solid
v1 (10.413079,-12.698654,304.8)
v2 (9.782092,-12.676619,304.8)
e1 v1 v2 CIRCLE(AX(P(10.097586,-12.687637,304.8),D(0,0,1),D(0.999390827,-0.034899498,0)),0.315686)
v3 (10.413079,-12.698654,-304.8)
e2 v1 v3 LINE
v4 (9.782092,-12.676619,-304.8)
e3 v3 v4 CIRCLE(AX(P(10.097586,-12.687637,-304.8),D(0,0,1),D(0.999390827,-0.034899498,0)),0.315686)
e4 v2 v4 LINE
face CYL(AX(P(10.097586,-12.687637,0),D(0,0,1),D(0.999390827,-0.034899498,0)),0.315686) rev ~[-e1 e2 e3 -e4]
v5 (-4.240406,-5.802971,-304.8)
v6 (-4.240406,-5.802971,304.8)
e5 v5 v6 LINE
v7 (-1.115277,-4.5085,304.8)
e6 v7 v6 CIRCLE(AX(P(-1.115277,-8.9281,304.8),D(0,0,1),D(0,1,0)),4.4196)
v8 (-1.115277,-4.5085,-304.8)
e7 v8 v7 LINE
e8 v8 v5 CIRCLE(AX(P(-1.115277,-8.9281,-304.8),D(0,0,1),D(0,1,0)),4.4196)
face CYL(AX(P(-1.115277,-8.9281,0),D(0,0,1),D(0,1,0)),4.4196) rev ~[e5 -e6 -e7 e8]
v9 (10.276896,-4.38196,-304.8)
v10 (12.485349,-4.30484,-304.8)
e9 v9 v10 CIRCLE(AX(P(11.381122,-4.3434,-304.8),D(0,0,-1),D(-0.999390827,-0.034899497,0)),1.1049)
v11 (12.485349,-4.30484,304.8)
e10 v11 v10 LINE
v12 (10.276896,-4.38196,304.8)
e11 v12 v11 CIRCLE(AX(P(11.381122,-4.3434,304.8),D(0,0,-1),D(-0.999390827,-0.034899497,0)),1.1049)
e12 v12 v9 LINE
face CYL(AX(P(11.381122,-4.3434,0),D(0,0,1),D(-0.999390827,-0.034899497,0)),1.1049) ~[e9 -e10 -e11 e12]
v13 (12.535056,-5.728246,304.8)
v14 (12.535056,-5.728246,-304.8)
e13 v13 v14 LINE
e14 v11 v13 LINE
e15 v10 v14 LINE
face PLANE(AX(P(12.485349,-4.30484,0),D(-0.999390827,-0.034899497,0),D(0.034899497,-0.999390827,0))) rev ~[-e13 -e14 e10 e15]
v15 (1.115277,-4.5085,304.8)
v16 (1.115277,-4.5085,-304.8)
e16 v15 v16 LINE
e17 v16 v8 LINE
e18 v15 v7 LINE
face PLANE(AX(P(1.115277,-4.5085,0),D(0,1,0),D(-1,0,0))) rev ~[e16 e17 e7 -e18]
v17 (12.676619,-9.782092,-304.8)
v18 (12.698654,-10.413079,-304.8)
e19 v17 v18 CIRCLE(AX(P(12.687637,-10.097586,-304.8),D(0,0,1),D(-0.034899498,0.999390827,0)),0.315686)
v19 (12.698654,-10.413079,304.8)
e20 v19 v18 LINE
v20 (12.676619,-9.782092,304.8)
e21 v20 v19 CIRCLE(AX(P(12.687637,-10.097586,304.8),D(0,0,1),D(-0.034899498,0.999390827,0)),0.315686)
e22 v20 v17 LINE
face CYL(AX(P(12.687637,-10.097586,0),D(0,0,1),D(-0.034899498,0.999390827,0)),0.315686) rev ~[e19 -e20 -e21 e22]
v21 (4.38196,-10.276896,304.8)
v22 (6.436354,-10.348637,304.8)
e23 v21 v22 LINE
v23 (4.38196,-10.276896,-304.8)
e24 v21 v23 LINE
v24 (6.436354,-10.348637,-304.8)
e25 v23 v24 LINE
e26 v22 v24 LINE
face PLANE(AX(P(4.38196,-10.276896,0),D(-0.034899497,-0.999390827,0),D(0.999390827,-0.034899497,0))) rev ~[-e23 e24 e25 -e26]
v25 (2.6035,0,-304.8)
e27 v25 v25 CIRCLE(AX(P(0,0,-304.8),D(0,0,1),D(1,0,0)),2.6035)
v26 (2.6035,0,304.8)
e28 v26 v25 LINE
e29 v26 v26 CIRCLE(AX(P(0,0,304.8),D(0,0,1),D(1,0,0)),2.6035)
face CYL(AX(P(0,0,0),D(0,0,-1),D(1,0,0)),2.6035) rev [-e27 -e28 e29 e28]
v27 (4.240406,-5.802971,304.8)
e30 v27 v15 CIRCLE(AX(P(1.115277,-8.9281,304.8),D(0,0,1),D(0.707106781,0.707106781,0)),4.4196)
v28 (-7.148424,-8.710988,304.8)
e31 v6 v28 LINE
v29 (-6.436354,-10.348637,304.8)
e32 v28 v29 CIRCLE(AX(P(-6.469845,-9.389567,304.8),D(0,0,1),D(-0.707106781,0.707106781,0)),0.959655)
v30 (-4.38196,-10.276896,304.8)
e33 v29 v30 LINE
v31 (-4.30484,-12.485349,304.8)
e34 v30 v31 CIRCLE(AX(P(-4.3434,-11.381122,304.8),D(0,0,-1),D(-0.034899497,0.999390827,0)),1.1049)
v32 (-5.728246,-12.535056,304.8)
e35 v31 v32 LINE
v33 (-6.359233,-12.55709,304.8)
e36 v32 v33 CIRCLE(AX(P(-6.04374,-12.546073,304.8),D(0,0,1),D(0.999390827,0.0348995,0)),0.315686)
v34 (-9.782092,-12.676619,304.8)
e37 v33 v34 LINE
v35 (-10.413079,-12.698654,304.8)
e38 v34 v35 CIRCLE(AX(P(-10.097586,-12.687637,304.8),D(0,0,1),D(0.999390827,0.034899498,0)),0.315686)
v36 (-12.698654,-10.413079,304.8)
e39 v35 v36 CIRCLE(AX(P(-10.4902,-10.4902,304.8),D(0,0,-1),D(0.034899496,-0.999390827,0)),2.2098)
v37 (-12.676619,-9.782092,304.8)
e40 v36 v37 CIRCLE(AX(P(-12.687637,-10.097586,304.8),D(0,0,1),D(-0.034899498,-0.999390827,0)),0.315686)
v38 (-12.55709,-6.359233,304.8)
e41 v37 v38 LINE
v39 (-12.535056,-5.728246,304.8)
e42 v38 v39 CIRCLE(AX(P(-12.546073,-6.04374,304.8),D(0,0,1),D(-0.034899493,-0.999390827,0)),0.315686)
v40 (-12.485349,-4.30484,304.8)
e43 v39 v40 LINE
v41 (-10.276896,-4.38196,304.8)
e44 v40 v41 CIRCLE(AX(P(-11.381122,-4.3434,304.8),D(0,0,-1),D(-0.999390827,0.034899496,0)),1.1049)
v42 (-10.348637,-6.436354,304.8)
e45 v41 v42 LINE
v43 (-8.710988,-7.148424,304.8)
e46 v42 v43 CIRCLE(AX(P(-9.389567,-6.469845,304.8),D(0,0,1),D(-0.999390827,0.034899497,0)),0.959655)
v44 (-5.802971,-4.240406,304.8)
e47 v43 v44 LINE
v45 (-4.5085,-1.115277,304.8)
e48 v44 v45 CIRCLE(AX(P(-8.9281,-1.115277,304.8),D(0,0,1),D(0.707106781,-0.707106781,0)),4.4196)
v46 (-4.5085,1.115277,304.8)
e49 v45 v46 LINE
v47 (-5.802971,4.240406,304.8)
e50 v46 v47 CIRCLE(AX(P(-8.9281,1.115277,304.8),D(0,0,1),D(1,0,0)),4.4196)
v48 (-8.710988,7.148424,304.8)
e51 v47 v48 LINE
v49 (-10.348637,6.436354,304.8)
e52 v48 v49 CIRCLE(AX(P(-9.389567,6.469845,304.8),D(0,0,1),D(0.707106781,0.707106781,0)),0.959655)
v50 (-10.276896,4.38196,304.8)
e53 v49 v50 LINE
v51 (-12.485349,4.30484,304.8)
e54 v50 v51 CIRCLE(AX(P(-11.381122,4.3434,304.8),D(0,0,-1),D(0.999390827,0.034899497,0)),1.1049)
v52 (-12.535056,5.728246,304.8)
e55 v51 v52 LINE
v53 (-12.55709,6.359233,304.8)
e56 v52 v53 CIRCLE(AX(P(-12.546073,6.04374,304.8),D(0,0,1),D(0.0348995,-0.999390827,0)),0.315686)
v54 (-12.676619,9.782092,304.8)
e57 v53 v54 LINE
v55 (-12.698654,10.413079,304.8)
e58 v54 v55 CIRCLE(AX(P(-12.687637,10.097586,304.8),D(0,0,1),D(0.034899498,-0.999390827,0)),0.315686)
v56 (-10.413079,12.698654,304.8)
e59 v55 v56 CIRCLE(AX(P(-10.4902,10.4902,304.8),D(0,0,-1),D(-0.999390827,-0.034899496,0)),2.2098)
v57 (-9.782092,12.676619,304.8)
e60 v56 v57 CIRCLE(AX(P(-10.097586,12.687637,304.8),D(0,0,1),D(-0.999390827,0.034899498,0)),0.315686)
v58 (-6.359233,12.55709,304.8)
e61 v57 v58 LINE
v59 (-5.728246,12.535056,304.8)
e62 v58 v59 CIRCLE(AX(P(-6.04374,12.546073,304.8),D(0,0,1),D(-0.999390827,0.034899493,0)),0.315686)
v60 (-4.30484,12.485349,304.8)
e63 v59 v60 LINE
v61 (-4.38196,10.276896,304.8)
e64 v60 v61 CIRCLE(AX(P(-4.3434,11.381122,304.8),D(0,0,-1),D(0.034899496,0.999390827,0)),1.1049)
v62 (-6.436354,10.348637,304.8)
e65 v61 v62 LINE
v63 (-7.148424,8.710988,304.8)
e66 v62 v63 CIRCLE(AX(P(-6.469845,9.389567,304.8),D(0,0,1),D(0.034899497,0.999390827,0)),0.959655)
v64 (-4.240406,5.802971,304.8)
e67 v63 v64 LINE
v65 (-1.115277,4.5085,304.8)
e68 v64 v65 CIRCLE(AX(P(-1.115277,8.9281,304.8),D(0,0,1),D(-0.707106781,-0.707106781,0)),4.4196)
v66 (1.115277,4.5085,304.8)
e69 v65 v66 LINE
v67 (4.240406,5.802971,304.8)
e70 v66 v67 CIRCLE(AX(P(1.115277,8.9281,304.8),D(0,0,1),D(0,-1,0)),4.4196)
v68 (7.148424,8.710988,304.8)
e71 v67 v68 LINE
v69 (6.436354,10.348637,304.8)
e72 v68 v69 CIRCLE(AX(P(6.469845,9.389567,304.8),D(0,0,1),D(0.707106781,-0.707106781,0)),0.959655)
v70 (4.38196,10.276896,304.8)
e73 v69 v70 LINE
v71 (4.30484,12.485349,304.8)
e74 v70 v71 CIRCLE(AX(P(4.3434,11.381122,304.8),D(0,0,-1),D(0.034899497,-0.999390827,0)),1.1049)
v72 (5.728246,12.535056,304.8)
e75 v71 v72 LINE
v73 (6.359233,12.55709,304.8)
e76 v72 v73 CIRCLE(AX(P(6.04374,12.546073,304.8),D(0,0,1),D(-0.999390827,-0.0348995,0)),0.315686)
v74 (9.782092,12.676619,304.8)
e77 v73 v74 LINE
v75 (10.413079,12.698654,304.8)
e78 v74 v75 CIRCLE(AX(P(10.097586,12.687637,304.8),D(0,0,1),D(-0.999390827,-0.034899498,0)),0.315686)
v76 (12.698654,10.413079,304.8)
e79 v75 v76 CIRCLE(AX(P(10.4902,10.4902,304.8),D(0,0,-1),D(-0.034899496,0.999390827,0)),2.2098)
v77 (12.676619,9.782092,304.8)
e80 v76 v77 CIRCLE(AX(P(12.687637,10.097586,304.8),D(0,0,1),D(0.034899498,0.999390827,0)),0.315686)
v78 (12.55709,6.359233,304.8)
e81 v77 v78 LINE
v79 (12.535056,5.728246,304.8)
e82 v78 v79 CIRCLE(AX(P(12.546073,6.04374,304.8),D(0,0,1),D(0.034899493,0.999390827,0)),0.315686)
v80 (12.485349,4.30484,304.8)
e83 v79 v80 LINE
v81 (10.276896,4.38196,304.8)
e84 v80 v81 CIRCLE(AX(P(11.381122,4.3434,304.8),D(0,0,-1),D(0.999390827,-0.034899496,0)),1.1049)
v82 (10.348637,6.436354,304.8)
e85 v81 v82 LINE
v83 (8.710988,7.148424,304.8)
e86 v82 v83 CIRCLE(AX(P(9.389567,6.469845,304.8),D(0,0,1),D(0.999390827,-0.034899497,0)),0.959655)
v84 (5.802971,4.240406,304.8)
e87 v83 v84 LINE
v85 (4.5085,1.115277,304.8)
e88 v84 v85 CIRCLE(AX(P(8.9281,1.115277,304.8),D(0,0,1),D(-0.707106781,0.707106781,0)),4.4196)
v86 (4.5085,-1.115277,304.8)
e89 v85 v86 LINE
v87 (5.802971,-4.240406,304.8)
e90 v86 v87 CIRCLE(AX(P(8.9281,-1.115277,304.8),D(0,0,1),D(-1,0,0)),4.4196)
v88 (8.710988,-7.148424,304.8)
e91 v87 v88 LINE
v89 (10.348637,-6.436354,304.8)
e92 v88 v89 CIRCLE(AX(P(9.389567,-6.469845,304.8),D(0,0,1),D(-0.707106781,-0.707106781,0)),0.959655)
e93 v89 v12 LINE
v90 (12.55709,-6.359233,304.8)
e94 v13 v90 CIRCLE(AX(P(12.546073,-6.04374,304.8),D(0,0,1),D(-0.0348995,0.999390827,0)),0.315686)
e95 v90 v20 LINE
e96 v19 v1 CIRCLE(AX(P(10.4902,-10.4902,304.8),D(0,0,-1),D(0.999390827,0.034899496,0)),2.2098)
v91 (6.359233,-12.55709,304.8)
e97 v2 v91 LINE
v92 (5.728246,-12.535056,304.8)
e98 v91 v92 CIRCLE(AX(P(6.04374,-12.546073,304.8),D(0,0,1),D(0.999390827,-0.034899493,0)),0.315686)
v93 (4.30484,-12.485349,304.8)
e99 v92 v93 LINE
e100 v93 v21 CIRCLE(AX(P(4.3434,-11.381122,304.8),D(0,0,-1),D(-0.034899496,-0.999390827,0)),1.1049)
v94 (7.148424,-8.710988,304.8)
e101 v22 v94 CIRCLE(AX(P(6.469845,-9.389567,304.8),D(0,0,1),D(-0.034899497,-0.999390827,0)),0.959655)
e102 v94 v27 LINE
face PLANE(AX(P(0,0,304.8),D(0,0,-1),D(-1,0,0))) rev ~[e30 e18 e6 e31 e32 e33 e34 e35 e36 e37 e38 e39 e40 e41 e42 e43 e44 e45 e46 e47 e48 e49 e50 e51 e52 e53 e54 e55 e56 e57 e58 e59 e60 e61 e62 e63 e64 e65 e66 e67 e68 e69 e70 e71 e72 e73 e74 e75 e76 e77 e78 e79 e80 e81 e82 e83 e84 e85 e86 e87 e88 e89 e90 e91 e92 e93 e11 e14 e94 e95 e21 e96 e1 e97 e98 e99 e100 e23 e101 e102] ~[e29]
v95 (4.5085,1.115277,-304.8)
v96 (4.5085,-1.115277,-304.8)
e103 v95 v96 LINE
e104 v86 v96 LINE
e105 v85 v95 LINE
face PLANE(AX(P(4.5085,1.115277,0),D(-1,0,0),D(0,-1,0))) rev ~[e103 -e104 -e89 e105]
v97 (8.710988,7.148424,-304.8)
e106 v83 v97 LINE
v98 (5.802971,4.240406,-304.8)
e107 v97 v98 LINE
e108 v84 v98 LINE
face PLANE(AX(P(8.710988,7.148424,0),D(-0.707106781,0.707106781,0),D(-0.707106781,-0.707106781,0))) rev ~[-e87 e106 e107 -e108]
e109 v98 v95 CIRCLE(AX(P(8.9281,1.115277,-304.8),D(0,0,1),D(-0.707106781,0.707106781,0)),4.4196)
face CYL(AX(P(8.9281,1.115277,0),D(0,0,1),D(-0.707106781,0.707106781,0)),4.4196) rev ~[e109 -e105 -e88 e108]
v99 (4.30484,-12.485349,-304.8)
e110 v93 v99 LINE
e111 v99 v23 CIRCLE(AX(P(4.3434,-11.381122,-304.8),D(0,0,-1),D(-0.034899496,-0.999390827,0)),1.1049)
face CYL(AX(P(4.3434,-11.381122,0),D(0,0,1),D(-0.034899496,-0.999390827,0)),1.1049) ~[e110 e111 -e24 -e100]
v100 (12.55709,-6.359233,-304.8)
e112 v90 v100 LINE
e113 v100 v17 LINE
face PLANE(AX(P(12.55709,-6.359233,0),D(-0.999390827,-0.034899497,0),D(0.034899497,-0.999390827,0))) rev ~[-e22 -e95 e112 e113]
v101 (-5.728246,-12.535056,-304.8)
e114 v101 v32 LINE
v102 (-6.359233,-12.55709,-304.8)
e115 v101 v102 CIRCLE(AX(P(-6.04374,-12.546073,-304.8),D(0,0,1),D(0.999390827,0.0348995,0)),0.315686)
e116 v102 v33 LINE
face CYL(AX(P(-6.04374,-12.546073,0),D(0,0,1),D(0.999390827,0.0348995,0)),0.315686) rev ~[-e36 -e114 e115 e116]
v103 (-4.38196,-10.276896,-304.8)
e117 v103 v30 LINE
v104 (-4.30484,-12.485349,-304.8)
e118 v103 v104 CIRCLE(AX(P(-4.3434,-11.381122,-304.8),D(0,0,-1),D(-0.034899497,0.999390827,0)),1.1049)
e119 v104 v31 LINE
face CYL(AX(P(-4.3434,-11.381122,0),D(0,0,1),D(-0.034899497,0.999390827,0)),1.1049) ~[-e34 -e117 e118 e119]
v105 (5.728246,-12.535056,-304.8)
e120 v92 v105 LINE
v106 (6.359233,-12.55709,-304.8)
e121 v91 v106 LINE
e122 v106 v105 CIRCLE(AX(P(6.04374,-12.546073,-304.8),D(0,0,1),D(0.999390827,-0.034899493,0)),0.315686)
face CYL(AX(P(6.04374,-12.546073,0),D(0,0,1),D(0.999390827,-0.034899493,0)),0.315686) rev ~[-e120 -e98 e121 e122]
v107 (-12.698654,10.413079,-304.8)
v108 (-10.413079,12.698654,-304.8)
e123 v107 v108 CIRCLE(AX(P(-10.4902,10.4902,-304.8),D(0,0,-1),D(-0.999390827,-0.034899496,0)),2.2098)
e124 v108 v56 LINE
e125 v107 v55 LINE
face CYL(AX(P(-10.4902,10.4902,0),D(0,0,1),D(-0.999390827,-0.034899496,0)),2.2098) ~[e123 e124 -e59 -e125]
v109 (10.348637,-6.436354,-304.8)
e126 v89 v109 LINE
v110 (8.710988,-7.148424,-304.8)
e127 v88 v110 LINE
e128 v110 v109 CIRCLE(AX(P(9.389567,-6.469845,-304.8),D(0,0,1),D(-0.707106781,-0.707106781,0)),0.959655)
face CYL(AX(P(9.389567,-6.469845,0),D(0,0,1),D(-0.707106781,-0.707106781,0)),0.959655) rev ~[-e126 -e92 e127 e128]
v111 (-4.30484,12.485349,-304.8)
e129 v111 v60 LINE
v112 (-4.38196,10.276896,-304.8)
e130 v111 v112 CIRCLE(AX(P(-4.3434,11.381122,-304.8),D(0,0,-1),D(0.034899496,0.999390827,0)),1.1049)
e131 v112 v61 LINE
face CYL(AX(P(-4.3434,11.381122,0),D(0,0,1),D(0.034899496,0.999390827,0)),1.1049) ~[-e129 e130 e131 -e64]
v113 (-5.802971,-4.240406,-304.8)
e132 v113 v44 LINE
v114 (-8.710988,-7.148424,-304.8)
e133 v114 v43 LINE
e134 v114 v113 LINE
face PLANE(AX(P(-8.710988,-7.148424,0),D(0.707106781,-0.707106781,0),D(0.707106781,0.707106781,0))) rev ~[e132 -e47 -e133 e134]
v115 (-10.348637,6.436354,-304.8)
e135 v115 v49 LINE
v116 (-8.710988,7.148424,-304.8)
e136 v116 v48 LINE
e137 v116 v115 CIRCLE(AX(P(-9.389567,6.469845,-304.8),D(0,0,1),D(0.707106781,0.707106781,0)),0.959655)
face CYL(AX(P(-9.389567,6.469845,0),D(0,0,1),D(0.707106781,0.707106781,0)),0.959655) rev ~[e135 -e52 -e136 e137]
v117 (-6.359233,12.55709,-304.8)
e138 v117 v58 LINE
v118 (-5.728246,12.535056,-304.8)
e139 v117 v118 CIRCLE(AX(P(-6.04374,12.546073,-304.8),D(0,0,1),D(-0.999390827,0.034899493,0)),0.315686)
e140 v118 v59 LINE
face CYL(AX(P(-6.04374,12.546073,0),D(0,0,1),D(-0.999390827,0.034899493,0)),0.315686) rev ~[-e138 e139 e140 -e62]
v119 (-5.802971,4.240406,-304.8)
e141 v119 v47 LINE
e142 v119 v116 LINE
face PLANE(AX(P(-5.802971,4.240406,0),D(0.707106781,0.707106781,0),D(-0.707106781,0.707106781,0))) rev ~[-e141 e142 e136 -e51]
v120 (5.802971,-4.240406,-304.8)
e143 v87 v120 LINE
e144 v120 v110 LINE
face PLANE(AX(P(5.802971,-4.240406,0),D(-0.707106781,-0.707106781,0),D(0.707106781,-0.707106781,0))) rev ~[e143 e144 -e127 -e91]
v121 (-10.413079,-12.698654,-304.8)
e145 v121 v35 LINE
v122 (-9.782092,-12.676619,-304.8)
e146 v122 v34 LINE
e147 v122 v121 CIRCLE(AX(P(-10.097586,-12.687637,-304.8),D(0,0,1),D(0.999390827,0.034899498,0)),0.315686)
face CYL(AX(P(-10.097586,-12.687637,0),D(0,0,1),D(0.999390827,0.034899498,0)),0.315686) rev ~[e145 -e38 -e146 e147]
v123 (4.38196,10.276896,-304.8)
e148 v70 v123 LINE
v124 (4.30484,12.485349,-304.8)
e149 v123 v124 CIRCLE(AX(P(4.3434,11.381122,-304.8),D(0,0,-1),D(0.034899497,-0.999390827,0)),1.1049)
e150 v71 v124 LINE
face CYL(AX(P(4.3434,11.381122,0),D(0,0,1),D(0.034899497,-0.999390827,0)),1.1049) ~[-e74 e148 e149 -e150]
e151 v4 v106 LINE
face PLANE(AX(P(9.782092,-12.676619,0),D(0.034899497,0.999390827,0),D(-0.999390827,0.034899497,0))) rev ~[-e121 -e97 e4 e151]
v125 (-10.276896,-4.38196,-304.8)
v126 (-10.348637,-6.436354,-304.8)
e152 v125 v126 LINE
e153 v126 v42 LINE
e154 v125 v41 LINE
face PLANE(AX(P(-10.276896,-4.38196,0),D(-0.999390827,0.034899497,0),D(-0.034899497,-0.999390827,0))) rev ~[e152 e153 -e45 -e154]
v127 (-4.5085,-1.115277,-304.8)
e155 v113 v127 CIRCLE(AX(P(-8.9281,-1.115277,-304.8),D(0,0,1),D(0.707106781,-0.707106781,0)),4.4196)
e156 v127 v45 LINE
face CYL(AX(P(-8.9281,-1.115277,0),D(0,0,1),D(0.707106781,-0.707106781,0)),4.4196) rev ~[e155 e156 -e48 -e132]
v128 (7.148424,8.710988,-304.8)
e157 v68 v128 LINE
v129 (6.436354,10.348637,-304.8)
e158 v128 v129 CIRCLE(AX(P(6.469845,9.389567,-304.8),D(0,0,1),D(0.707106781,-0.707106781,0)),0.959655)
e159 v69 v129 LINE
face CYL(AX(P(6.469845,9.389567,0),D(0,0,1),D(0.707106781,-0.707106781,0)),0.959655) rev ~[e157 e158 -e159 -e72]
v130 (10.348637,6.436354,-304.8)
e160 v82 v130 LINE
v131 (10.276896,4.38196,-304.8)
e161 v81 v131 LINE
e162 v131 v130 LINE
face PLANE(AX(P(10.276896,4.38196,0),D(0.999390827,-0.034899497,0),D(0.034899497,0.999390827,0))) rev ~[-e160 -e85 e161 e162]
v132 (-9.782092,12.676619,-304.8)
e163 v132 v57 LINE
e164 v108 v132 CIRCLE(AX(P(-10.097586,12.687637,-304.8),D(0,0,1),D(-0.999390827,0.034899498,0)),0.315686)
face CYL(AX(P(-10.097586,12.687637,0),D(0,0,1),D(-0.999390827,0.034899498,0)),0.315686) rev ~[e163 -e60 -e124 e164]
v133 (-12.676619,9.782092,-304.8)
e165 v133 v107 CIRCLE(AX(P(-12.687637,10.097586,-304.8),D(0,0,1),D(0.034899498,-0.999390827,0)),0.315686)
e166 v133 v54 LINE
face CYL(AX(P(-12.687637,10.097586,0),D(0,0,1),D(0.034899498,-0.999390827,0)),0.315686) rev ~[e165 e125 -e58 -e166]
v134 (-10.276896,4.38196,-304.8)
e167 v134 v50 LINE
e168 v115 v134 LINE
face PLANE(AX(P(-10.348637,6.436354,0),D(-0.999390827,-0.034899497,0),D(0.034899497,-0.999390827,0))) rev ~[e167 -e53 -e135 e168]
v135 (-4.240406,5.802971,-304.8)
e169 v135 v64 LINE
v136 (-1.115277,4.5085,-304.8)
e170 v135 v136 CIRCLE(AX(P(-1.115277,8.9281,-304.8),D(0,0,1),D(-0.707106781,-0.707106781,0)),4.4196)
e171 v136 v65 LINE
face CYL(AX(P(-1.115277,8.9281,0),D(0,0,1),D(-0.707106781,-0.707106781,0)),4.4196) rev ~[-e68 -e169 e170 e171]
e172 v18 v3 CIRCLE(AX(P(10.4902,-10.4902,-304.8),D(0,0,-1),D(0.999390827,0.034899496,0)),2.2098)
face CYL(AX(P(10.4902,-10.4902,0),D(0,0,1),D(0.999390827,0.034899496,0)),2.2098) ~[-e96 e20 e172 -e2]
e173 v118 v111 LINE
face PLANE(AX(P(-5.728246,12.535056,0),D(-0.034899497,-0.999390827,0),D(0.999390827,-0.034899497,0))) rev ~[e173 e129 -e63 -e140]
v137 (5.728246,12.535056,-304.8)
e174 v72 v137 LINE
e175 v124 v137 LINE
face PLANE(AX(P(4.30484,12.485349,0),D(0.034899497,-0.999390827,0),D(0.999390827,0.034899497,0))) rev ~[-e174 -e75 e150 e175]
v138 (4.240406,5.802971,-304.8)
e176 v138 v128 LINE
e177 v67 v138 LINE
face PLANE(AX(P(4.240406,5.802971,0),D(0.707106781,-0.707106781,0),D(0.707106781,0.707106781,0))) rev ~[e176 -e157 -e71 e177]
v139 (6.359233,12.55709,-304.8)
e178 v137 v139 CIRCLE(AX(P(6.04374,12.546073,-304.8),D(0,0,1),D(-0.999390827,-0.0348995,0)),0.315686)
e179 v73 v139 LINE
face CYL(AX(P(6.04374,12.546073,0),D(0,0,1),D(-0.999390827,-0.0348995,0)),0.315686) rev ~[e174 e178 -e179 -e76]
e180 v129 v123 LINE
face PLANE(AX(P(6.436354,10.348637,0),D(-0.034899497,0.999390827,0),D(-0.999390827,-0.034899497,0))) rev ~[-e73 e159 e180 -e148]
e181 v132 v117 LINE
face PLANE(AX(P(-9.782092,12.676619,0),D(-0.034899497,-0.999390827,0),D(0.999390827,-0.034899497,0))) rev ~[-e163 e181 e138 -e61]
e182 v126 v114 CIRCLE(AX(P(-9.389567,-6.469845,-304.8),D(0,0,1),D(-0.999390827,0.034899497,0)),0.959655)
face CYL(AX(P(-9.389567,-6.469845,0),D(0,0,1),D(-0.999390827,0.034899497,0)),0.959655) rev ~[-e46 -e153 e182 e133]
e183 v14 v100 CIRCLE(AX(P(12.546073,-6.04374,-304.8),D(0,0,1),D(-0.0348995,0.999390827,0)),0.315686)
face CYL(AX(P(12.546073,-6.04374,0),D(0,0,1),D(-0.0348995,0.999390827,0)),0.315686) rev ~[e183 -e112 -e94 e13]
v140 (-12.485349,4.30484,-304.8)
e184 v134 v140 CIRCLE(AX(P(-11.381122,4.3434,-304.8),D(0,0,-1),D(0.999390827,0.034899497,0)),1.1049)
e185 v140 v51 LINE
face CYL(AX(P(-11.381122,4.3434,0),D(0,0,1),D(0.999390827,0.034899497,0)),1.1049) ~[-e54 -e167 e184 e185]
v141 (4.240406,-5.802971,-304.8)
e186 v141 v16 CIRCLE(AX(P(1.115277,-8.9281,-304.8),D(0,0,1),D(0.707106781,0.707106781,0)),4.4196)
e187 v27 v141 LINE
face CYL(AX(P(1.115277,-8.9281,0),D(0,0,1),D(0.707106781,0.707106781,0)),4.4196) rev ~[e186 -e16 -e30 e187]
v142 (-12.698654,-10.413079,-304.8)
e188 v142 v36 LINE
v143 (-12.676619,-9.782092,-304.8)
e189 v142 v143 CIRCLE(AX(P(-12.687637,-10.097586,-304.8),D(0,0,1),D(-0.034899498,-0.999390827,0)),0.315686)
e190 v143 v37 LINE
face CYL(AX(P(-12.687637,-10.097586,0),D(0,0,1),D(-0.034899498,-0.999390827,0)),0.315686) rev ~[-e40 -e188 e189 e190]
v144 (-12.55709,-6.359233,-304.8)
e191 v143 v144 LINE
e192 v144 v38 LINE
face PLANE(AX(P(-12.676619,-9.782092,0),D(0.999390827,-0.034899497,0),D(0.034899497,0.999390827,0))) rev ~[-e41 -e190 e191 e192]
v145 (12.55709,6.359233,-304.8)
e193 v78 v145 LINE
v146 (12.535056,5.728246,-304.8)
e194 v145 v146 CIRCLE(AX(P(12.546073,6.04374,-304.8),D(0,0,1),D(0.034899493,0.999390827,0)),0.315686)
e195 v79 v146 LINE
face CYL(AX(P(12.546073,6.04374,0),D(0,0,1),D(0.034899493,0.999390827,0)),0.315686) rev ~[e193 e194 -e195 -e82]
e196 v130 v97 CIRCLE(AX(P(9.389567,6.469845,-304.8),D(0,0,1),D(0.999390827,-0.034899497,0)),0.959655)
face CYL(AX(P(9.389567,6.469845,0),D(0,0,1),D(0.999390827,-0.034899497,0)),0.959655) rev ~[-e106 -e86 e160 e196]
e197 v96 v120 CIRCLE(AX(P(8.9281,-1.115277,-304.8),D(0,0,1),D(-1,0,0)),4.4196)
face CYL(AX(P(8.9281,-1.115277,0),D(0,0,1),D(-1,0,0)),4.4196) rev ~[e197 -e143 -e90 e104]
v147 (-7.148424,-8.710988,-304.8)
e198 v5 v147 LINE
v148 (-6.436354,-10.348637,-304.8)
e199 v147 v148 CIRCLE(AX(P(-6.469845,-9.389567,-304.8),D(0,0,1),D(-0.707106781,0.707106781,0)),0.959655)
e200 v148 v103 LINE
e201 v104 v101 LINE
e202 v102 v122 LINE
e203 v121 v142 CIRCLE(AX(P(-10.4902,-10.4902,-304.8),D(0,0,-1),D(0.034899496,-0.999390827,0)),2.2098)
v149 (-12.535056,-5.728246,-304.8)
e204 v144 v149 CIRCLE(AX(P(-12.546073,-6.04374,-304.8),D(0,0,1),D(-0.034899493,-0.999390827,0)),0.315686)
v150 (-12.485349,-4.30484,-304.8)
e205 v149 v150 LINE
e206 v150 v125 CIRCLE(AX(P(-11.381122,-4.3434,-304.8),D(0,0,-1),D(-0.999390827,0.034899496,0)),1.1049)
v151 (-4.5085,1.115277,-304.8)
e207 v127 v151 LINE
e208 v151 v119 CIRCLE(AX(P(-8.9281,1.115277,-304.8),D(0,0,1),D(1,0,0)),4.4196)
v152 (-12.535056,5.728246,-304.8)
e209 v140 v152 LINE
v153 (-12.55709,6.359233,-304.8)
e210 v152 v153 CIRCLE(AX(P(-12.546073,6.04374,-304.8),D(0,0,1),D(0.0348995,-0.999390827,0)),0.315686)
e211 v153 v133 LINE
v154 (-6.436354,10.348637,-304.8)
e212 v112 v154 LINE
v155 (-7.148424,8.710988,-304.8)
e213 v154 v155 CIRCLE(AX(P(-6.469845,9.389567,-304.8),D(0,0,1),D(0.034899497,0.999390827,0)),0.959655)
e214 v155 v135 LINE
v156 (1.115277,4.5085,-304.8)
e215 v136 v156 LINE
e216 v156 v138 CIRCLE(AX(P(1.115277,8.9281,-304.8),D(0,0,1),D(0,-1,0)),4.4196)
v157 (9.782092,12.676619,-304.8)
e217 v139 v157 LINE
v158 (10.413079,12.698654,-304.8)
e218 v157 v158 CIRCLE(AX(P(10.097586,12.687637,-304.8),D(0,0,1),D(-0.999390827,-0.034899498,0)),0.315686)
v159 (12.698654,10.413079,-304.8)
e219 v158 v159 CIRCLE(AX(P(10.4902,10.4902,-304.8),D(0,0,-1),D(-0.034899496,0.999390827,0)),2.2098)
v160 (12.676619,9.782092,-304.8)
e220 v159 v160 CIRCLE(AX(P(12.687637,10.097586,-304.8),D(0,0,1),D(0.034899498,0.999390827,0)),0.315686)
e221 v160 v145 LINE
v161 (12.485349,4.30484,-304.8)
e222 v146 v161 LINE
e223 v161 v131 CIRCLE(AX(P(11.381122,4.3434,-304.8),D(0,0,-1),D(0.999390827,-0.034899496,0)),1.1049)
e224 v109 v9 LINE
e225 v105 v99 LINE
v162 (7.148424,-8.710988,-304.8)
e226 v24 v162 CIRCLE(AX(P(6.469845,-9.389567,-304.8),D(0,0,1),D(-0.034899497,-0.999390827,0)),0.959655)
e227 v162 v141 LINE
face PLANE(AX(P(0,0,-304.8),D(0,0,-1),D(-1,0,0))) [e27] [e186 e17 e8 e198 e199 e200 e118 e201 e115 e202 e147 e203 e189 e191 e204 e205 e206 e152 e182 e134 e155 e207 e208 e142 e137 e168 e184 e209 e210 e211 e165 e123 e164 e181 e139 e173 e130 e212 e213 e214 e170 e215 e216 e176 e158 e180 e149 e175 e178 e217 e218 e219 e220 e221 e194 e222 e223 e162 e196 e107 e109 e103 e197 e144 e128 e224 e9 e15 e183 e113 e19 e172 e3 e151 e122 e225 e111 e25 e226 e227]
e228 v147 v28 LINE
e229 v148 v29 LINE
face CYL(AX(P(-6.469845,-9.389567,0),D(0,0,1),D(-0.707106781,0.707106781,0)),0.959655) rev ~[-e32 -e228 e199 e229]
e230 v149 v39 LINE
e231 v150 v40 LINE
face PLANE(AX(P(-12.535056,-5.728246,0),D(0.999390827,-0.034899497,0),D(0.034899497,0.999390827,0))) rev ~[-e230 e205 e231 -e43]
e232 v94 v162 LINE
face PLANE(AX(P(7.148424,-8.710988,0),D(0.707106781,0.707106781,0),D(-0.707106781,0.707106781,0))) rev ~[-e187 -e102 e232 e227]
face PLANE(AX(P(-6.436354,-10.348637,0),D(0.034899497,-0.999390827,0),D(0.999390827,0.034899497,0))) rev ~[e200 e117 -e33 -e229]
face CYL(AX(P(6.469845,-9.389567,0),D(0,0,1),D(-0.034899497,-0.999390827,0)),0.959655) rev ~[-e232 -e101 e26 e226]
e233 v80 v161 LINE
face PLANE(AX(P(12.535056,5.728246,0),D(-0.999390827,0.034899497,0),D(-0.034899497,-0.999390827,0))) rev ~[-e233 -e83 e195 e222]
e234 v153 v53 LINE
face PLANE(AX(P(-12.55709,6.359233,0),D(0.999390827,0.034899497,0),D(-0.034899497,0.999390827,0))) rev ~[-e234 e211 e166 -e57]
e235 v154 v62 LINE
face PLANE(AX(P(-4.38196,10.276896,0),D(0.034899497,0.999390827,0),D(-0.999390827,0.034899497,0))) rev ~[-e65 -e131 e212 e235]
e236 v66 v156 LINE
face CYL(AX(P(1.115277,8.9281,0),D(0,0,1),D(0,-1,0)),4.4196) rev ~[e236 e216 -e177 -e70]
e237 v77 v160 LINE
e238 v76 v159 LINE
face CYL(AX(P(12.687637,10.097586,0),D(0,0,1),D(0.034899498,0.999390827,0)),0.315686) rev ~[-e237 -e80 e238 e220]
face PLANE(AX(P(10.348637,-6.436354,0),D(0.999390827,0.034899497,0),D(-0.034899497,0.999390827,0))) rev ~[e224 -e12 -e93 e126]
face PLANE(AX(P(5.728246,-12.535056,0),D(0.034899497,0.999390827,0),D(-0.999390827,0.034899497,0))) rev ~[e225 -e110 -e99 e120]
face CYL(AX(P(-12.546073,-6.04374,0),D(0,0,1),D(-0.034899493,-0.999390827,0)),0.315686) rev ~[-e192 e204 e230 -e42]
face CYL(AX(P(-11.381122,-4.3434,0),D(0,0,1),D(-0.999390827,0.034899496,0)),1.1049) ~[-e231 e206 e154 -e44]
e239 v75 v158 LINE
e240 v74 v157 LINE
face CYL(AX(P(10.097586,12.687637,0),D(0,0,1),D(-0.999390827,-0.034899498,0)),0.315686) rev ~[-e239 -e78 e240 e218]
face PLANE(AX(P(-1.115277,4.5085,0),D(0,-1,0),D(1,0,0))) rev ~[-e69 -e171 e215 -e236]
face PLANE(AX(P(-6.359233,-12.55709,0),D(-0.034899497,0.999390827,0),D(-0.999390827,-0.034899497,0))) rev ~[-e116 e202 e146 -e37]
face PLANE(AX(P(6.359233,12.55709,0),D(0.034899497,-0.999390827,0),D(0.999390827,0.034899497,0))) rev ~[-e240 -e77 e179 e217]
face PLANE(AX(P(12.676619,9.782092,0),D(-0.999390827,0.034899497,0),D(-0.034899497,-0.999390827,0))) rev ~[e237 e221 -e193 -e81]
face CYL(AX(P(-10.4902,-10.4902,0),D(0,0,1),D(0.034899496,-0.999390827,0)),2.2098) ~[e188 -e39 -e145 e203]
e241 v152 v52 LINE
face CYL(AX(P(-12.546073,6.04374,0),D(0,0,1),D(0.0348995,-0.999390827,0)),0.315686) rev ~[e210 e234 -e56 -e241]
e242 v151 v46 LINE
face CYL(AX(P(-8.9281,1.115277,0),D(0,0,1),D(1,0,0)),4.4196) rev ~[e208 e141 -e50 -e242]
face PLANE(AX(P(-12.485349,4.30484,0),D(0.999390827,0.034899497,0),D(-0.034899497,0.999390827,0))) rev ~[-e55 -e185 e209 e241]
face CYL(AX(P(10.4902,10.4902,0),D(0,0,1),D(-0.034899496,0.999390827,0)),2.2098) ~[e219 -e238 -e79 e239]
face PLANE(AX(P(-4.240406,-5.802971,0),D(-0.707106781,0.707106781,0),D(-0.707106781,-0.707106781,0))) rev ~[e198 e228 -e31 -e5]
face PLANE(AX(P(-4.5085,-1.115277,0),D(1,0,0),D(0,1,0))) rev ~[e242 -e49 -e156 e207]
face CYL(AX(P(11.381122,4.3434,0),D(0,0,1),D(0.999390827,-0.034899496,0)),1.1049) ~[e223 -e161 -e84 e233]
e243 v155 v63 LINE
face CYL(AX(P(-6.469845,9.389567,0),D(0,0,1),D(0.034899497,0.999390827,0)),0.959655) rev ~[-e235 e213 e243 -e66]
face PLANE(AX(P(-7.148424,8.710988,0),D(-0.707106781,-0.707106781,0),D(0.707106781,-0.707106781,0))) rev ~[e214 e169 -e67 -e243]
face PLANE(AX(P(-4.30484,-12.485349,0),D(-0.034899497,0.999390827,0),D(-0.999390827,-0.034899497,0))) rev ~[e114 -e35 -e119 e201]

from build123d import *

# Parameters (mm, degrees)
SKETCH3_R      = 2.6035
EXTRUDE1_DEPTH = 304.8


with BuildPart() as part:
    # Sketch3 → Extrude1 (new body, symmetric)
    with BuildSketch(Plane.XY):
        with BuildLine():
            Line((-1.115277175, 4.5085), (1.115277175, 4.5085))
            ThreePointArc((1.115277175, 4.5085), (2.806584872, 4.844922018), (4.240406305, 5.80297087))
            Line((4.240406305, 5.80297087), (7.148423664, 8.710988229))
            ThreePointArc((7.148423664, 8.710988229), (7.349906316, 9.772227925), (6.436353897, 10.348636575))
            Line((6.436353897, 10.348636575), (4.381960454, 10.276895575))
            ThreePointArc((4.381960454, 10.276895575), (3.239173075, 11.342562046), (4.304839546, 12.485349424))
            Line((4.304839546, 12.485349424), (5.728246175, 12.535055879))
            ThreePointArc((5.728246175, 12.535055879), (6.054756855, 12.230579745), (6.35923299, 12.557090424))
            Line((6.35923299, 12.557090424), (9.782092278, 12.676619304))
            ThreePointArc((9.782092278, 12.676619304), (10.108602958, 12.37214317), (10.413079092, 12.69865385))
            ThreePointArc((10.413079092, 12.69865385), (12.052764565, 12.052764565), (12.69865385, 10.413079092))
            ThreePointArc((12.69865385, 10.413079092), (12.37214317, 10.108602958), (12.676619304, 9.782092278))
            Line((12.676619304, 9.782092278), (12.557090424, 6.35923299))
            ThreePointArc((12.557090424, 6.35923299), (12.230579745, 6.054756855), (12.535055879, 5.728246175))
            Line((12.535055879, 5.728246175), (12.485349424, 4.304839546))
            ThreePointArc((12.485349424, 4.304839546), (11.342562046, 3.239173075), (10.276895575, 4.381960454))
            Line((10.276895575, 4.381960454), (10.348636575, 6.436353897))
            ThreePointArc((10.348636575, 6.436353897), (9.772227925, 7.349906316), (8.710988229, 7.148423664))
            Line((8.710988229, 7.148423664), (5.80297087, 4.240406305))
            ThreePointArc((5.80297087, 4.240406305), (4.844922018, 2.806584872), (4.5085, 1.115277175))
            Line((4.5085, 1.115277175), (4.5085, -1.115277175))
            ThreePointArc((4.5085, -1.115277175), (4.844922018, -2.806584872), (5.80297087, -4.240406305))
            Line((5.80297087, -4.240406305), (8.710988229, -7.148423664))
            ThreePointArc((8.710988229, -7.148423664), (9.772227925, -7.349906316), (10.348636575, -6.436353897))
            Line((10.348636575, -6.436353897), (10.276895575, -4.381960454))
            ThreePointArc((10.276895575, -4.381960454), (11.342562046, -3.239173075), (12.485349424, -4.304839546))
            Line((12.485349424, -4.304839546), (12.535055879, -5.728246175))
            ThreePointArc((12.535055879, -5.728246175), (12.230579745, -6.054756855), (12.557090424, -6.35923299))
            Line((12.557090424, -6.35923299), (12.676619304, -9.782092278))
            ThreePointArc((12.676619304, -9.782092278), (12.37214317, -10.108602958), (12.69865385, -10.413079092))
            ThreePointArc((12.69865385, -10.413079092), (12.052764565, -12.052764565), (10.413079092, -12.69865385))
            ThreePointArc((10.413079092, -12.69865385), (10.108602958, -12.37214317), (9.782092278, -12.676619304))
            Line((9.782092278, -12.676619304), (6.35923299, -12.557090424))
            ThreePointArc((6.35923299, -12.557090424), (6.054756855, -12.230579745), (5.728246175, -12.535055879))
            Line((5.728246175, -12.535055879), (4.304839546, -12.485349424))
            ThreePointArc((4.304839546, -12.485349424), (3.239173075, -11.342562046), (4.381960454, -10.276895575))
            Line((4.381960454, -10.276895575), (6.436353897, -10.348636575))
            ThreePointArc((6.436353897, -10.348636575), (7.349906316, -9.772227925), (7.148423664, -8.710988229))
            Line((7.148423664, -8.710988229), (4.240406305, -5.80297087))
            ThreePointArc((4.240406305, -5.80297087), (2.806584872, -4.844922018), (1.115277175, -4.5085))
            Line((1.115277175, -4.5085), (-1.115277175, -4.5085))
            ThreePointArc((-1.115277175, -4.5085), (-2.806584872, -4.844922018), (-4.240406305, -5.80297087))
            Line((-4.240406305, -5.80297087), (-7.148423664, -8.710988229))
            ThreePointArc((-7.148423664, -8.710988229), (-7.349906316, -9.772227925), (-6.436353897, -10.348636575))
            Line((-6.436353897, -10.348636575), (-4.381960454, -10.276895575))
            ThreePointArc((-4.381960454, -10.276895575), (-3.239173075, -11.342562046), (-4.304839546, -12.485349424))
            Line((-4.304839546, -12.485349424), (-5.728246175, -12.535055879))
            ThreePointArc((-5.728246175, -12.535055879), (-6.054756855, -12.230579745), (-6.35923299, -12.557090424))
            Line((-6.35923299, -12.557090424), (-9.782092278, -12.676619304))
            ThreePointArc((-9.782092278, -12.676619304), (-10.108602958, -12.37214317), (-10.413079092, -12.69865385))
            ThreePointArc((-10.413079092, -12.69865385), (-12.052764565, -12.052764565), (-12.69865385, -10.413079092))
            ThreePointArc((-12.69865385, -10.413079092), (-12.37214317, -10.108602958), (-12.676619304, -9.782092278))
            Line((-12.676619304, -9.782092278), (-12.557090424, -6.35923299))
            ThreePointArc((-12.557090424, -6.35923299), (-12.230579745, -6.054756855), (-12.535055879, -5.728246175))
            Line((-12.535055879, -5.728246175), (-12.485349424, -4.304839546))
            ThreePointArc((-12.485349424, -4.304839546), (-11.342562046, -3.239173075), (-10.276895575, -4.381960454))
            Line((-10.276895575, -4.381960454), (-10.348636575, -6.436353897))
            ThreePointArc((-10.348636575, -6.436353897), (-9.772227925, -7.349906316), (-8.710988229, -7.148423664))
            Line((-8.710988229, -7.148423664), (-5.80297087, -4.240406305))
            ThreePointArc((-5.80297087, -4.240406305), (-4.844922018, -2.806584872), (-4.5085, -1.115277175))
            Line((-4.5085, -1.115277175), (-4.5085, 1.115277175))
            ThreePointArc((-4.5085, 1.115277175), (-4.844922018, 2.806584872), (-5.80297087, 4.240406305))
            Line((-5.80297087, 4.240406305), (-8.710988229, 7.148423664))
            ThreePointArc((-8.710988229, 7.148423664), (-9.772227925, 7.349906316), (-10.348636575, 6.436353897))
            Line((-10.348636575, 6.436353897), (-10.276895575, 4.381960454))
            ThreePointArc((-10.276895575, 4.381960454), (-11.342562046, 3.239173075), (-12.485349424, 4.304839546))
            Line((-12.485349424, 4.304839546), (-12.535055879, 5.728246175))
            ThreePointArc((-12.535055879, 5.728246175), (-12.230579745, 6.054756855), (-12.557090424, 6.35923299))
            Line((-12.557090424, 6.35923299), (-12.676619304, 9.782092278))
            ThreePointArc((-12.676619304, 9.782092278), (-12.37214317, 10.108602958), (-12.69865385, 10.413079092))
            ThreePointArc((-12.69865385, 10.413079092), (-12.052764565, 12.052764565), (-10.413079092, 12.69865385))
            ThreePointArc((-10.413079092, 12.69865385), (-10.108602958, 12.37214317), (-9.782092278, 12.676619304))
            Line((-9.782092278, 12.676619304), (-6.35923299, 12.557090424))
            ThreePointArc((-6.35923299, 12.557090424), (-6.054756855, 12.230579745), (-5.728246175, 12.535055879))
            Line((-5.728246175, 12.535055879), (-4.304839546, 12.485349424))
            ThreePointArc((-4.304839546, 12.485349424), (-3.239173075, 11.342562046), (-4.381960454, 10.276895575))
            Line((-4.381960454, 10.276895575), (-6.436353897, 10.348636575))
            ThreePointArc((-6.436353897, 10.348636575), (-7.349906316, 9.772227925), (-7.148423664, 8.710988229))
            Line((-7.148423664, 8.710988229), (-4.240406305, 5.80297087))
            ThreePointArc((-4.240406305, 5.80297087), (-2.806584872, 4.844922018), (-1.115277175, 4.5085))
        make_face()
        Circle(SKETCH3_R, mode=Mode.SUBTRACT)
    extrude(amount=EXTRUDE1_DEPTH, both=True)


solid = part.part
